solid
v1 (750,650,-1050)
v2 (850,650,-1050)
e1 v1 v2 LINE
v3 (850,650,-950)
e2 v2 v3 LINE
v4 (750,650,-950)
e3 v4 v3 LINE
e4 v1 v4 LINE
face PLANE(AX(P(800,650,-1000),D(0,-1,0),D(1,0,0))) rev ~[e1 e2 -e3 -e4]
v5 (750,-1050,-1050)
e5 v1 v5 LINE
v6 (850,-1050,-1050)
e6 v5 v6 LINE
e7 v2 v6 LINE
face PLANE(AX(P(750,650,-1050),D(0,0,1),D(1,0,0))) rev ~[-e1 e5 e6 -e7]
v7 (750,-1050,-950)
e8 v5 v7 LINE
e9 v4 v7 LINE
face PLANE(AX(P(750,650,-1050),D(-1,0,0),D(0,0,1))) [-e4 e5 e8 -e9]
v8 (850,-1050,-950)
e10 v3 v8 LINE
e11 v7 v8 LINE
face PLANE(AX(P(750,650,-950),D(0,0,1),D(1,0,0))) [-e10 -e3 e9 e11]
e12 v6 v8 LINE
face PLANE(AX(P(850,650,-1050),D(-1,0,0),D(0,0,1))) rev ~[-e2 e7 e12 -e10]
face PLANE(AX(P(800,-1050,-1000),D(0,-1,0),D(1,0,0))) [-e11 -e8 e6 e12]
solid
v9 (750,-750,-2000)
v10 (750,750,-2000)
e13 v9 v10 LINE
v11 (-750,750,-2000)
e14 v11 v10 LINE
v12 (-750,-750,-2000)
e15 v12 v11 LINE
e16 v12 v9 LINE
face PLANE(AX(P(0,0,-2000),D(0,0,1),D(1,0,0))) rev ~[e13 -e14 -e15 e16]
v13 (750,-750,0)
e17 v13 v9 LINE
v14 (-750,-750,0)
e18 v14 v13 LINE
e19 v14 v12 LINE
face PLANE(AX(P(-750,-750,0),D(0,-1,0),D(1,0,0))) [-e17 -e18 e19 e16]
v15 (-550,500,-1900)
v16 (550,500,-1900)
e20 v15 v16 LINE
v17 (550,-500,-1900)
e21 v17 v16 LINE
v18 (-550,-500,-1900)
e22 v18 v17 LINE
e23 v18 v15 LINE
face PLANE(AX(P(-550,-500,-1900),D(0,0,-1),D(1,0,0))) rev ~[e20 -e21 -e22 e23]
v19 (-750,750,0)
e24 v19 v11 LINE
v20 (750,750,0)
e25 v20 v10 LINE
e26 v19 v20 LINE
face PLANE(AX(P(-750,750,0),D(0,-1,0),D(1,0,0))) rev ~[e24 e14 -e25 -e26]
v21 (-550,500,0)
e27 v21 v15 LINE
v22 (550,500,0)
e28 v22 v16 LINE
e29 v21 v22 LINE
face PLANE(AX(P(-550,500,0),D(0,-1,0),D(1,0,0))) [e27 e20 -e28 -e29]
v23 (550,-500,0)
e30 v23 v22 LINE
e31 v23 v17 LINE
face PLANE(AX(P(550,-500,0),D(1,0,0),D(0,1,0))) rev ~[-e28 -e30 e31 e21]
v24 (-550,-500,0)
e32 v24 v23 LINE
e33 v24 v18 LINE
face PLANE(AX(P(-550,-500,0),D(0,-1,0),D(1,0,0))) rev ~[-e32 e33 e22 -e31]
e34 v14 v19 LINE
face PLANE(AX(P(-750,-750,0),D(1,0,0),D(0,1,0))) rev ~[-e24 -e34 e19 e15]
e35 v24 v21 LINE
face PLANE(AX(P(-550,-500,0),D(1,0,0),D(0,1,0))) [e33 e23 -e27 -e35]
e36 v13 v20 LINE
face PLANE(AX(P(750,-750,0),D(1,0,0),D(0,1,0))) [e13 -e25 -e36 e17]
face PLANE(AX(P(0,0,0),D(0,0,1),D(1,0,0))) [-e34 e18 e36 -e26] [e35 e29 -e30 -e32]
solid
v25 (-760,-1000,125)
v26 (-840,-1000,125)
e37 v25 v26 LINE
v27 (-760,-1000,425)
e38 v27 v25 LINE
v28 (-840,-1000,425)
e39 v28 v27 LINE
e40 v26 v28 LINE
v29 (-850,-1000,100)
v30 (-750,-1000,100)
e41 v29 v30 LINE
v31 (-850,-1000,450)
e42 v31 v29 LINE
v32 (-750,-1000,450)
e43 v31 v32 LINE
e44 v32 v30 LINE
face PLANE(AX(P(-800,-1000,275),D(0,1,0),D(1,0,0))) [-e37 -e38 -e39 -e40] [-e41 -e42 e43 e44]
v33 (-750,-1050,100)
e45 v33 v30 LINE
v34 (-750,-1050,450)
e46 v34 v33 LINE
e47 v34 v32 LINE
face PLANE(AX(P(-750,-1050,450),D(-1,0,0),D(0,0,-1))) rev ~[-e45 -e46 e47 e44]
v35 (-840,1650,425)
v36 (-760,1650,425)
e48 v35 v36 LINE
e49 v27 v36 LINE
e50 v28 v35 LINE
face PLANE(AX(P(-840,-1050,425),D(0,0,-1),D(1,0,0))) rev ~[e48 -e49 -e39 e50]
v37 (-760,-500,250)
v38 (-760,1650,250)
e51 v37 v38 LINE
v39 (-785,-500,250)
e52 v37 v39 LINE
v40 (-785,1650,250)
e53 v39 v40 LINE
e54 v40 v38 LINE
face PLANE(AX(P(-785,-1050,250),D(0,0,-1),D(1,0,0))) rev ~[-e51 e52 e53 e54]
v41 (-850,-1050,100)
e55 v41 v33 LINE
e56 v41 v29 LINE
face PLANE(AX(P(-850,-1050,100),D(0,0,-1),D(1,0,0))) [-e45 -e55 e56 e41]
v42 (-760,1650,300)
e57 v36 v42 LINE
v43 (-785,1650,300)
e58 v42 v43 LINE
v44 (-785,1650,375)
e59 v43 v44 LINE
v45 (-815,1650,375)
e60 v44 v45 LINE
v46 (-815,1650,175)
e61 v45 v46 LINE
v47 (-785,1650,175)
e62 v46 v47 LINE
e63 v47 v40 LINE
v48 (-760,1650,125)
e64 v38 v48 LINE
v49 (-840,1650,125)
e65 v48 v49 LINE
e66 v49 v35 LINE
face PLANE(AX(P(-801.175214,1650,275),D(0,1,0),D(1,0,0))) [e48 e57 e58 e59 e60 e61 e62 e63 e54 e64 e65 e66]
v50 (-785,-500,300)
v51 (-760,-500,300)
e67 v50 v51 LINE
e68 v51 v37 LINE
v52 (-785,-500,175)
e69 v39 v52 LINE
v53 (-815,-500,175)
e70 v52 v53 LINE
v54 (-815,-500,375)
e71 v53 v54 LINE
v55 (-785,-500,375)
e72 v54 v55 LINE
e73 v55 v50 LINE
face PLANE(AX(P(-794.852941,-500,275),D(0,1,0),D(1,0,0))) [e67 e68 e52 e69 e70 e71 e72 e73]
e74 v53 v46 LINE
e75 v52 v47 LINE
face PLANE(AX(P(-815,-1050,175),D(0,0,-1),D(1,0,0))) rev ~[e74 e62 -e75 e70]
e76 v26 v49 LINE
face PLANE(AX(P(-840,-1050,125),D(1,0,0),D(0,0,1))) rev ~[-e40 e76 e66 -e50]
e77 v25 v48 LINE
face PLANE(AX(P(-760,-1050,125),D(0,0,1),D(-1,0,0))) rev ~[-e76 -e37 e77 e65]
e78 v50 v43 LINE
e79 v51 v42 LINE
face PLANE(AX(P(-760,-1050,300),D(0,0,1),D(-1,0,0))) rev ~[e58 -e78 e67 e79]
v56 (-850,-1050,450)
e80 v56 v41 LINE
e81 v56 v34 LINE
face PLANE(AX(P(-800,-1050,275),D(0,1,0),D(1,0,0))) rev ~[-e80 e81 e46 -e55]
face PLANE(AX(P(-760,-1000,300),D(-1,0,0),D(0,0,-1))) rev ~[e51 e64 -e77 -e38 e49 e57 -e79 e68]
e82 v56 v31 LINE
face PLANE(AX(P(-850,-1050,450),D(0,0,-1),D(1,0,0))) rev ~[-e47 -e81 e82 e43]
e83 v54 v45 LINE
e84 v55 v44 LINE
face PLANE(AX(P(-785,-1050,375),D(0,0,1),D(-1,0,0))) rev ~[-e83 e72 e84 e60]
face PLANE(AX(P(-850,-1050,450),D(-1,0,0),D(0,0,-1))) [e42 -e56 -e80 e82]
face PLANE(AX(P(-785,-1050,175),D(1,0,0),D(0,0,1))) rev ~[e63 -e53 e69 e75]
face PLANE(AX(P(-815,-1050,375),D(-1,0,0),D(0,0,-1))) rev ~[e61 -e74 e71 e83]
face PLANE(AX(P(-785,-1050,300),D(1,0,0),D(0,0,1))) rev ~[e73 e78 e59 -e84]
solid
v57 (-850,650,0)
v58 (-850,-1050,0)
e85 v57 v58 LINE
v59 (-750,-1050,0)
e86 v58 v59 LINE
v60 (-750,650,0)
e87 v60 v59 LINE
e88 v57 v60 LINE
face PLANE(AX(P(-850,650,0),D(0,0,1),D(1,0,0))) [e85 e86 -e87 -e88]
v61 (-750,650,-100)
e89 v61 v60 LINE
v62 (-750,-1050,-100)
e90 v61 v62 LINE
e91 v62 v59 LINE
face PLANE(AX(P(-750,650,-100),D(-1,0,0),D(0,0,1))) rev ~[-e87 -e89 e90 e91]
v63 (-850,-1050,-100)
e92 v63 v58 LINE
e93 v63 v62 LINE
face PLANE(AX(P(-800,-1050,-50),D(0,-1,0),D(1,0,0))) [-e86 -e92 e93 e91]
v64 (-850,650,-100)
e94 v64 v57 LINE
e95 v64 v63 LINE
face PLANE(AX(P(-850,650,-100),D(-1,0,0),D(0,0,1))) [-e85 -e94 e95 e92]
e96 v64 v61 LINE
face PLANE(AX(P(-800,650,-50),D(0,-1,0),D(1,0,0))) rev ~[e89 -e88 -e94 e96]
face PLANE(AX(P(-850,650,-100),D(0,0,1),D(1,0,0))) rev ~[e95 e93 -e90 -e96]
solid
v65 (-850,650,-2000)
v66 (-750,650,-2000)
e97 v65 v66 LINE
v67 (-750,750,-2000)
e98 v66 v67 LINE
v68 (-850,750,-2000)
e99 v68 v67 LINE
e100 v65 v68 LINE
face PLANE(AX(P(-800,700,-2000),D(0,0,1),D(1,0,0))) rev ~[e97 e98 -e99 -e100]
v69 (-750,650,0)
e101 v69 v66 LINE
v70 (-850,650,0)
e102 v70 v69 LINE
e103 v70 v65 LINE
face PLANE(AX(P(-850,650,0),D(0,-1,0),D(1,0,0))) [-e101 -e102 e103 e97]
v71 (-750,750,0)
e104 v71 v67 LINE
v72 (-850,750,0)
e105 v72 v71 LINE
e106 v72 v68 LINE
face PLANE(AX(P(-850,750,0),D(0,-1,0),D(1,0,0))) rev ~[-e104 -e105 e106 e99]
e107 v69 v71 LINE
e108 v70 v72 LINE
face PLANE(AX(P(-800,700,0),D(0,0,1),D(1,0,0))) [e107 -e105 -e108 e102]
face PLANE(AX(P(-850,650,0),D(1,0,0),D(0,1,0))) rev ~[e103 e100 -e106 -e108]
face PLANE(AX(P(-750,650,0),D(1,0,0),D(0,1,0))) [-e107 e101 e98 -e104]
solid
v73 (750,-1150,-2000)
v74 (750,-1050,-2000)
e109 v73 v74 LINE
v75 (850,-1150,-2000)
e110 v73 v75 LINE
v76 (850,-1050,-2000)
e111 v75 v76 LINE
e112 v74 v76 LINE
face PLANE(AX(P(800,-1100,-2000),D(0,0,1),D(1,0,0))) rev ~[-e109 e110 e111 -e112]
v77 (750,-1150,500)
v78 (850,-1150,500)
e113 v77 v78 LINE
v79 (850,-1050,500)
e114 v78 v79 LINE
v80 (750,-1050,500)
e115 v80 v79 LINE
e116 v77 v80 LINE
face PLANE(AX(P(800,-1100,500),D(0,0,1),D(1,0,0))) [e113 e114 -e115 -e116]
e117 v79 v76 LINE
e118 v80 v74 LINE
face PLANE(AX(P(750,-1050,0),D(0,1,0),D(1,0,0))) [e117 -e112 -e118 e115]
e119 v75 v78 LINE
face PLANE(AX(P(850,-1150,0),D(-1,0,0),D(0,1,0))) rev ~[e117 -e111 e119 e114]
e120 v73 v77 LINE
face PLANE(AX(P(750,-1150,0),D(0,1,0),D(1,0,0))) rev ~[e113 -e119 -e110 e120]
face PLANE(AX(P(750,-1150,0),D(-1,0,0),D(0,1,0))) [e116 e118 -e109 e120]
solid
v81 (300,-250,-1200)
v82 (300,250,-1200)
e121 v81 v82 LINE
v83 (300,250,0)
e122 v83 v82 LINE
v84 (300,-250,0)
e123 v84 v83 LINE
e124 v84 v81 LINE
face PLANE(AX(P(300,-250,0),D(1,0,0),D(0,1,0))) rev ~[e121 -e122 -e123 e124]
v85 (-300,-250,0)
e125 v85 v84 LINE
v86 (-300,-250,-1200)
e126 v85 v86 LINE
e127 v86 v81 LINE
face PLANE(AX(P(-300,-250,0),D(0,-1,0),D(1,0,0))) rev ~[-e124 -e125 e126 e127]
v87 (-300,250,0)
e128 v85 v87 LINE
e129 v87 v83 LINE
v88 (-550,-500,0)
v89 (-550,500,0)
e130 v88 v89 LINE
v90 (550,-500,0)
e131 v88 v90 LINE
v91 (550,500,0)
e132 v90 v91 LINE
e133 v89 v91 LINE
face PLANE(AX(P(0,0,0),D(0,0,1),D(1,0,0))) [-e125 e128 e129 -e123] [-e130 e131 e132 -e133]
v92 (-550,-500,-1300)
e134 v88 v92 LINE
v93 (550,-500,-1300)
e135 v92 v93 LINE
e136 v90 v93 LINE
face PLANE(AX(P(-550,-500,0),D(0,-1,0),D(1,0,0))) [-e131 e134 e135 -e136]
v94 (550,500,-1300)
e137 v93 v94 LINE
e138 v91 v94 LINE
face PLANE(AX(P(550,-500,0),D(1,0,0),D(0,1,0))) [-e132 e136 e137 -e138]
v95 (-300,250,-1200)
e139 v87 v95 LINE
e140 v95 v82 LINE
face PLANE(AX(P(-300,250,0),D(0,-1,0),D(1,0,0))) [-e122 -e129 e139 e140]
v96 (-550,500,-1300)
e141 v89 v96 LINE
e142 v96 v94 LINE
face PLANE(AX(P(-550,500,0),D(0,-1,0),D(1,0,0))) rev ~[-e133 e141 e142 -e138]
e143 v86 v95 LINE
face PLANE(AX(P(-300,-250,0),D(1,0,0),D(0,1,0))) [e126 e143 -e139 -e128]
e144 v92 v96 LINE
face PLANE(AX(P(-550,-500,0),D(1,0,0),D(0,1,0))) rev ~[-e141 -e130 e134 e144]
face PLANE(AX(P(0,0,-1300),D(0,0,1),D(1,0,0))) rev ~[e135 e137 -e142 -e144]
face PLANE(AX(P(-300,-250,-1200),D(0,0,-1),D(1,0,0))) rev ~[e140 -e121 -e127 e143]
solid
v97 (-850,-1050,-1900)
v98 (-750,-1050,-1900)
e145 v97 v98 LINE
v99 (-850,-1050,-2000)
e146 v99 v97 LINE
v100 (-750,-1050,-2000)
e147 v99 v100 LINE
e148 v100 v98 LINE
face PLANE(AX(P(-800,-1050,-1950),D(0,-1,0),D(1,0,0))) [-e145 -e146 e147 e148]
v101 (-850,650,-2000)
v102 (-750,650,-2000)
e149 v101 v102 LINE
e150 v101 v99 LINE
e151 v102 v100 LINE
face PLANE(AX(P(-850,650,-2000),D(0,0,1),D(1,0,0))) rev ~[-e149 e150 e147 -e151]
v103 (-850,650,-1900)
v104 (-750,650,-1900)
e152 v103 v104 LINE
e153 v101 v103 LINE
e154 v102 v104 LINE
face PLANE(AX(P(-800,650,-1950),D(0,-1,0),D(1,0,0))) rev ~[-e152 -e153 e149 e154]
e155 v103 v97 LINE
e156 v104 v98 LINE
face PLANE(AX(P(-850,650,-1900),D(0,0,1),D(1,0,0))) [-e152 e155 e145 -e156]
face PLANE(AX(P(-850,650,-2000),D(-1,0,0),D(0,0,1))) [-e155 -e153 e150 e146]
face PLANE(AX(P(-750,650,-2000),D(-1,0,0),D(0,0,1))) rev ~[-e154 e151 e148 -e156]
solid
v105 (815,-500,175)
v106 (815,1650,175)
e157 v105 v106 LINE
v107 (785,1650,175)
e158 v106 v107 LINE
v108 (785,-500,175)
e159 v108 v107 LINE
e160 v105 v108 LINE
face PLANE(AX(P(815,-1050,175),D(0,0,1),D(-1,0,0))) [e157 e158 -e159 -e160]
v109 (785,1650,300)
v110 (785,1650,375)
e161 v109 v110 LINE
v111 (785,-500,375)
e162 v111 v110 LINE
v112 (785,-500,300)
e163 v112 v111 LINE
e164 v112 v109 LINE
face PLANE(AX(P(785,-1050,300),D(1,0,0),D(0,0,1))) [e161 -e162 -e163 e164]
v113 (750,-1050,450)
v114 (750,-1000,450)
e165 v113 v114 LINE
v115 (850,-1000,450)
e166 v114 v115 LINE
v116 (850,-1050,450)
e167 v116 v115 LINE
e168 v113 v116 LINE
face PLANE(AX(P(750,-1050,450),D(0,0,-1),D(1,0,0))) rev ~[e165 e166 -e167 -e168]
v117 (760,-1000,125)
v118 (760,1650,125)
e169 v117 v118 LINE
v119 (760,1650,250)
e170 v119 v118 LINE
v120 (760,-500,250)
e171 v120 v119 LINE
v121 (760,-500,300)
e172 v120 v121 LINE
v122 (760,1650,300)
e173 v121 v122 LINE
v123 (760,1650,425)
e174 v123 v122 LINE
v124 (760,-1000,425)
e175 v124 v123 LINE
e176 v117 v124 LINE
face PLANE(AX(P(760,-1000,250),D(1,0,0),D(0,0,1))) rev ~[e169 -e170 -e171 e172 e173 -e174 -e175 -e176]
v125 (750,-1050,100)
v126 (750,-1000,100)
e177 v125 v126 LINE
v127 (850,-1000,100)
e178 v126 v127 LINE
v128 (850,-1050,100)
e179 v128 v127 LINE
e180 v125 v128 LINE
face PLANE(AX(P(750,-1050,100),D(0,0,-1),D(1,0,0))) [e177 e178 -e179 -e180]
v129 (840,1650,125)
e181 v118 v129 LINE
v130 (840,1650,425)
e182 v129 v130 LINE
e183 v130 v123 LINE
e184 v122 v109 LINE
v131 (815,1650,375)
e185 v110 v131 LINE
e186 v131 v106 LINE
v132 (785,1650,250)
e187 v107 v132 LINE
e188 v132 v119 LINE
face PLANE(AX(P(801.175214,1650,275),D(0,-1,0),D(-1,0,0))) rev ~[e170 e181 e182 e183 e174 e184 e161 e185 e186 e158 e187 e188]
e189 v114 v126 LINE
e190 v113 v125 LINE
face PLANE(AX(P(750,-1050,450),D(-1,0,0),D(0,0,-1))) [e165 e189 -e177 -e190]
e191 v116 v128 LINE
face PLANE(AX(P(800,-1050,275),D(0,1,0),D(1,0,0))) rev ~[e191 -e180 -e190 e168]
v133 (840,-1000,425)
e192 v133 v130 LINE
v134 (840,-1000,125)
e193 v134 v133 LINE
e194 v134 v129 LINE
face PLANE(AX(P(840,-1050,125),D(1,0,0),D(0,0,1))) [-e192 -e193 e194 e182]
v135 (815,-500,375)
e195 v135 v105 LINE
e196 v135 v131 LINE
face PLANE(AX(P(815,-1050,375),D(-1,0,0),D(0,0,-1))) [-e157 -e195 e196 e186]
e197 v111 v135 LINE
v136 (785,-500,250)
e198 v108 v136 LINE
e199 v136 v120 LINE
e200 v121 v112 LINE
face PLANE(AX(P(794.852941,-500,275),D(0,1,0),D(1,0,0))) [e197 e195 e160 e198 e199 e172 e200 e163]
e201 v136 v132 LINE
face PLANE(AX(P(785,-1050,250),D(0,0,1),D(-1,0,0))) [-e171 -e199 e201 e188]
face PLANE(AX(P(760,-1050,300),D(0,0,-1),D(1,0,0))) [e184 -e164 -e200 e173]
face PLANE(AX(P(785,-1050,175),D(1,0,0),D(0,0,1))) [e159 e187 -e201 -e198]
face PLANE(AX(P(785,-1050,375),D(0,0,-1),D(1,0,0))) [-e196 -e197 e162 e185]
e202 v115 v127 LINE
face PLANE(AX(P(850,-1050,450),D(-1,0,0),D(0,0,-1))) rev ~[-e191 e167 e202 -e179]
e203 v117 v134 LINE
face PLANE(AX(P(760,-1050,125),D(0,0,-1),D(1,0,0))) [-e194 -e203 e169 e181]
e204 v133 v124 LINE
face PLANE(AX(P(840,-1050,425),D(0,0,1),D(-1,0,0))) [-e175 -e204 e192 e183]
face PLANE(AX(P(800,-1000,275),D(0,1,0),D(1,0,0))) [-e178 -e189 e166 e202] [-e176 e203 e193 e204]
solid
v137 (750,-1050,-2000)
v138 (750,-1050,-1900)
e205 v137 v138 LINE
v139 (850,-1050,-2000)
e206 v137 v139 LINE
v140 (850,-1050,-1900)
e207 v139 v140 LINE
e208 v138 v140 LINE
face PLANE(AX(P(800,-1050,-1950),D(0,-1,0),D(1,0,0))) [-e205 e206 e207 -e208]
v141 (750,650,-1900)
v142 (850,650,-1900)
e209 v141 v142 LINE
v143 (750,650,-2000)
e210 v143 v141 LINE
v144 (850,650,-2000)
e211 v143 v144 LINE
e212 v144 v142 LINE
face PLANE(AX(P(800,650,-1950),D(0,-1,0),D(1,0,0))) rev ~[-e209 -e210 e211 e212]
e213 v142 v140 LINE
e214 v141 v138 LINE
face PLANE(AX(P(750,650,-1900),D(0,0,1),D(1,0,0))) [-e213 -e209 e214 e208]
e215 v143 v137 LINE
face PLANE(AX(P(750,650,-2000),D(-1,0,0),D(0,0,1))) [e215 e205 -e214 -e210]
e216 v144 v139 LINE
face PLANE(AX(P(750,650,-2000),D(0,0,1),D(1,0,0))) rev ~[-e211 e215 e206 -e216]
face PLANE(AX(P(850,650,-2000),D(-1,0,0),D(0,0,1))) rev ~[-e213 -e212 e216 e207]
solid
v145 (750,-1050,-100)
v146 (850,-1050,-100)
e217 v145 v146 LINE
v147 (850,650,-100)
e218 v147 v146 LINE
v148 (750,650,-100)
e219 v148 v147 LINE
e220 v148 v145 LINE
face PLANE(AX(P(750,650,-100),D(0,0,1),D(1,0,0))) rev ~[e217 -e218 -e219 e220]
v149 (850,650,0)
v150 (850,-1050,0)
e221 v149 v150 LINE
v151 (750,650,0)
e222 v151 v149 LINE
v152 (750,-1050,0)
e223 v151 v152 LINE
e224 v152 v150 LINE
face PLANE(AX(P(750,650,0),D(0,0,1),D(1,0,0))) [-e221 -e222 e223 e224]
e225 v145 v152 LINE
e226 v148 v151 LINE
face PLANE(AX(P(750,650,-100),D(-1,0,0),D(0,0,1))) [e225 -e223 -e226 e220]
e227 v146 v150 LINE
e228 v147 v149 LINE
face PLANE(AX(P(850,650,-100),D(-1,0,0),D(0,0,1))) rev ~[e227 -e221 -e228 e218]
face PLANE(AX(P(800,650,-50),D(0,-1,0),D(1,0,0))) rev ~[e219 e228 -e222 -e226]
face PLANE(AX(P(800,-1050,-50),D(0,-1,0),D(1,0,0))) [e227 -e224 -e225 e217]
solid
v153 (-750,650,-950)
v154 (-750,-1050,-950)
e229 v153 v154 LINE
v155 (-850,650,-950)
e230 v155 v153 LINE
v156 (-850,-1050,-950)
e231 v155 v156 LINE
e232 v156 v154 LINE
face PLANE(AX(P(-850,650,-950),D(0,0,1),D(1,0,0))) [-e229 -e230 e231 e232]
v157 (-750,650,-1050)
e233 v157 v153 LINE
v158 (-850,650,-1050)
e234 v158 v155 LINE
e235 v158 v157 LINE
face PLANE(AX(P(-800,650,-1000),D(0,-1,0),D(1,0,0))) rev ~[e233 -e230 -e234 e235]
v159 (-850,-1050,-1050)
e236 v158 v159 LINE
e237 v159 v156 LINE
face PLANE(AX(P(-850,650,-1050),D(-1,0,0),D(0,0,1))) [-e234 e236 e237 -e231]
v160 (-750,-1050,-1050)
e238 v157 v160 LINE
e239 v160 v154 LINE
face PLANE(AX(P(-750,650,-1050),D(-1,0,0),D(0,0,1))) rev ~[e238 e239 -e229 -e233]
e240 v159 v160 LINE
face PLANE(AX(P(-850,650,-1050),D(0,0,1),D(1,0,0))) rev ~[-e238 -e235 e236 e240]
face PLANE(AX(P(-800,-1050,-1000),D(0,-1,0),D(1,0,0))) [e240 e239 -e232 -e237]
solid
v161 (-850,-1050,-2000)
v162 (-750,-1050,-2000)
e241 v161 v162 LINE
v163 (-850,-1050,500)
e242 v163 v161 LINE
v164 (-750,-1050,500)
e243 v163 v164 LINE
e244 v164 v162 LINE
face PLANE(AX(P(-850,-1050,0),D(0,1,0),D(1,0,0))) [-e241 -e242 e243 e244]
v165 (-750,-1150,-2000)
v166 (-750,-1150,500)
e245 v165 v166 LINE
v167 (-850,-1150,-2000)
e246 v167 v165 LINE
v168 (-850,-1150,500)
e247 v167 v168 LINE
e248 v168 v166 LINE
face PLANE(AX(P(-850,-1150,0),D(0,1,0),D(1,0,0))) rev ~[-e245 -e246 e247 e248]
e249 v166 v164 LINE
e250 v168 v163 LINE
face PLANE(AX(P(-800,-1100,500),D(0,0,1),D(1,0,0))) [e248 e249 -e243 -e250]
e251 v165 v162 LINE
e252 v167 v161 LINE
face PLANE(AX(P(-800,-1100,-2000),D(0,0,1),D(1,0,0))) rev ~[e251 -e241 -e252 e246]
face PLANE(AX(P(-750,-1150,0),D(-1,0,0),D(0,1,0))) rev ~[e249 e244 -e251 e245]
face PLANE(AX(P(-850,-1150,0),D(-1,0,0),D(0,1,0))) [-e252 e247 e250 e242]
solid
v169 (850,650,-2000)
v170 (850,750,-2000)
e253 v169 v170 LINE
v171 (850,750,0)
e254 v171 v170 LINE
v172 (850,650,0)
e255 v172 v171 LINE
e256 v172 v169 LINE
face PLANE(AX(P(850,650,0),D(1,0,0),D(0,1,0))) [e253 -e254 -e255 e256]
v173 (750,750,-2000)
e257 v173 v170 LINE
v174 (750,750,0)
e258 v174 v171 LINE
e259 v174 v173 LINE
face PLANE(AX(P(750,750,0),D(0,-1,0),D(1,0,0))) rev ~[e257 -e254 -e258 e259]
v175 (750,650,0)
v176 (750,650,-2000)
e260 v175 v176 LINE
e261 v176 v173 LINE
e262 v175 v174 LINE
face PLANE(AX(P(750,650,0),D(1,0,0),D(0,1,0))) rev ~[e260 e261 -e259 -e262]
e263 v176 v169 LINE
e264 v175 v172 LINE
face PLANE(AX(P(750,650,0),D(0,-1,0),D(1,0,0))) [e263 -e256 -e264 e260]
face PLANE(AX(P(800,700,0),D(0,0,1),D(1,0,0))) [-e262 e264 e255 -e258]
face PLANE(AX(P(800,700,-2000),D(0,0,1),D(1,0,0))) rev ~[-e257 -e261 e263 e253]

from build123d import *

# Parameters (mm, degrees)
SKETCH_1_W         = 1100
SKETCH_1_H         = 1000
SKETCH_1_W_2       = 600
SKETCH_1_H_2       = 500
EXTRUDE_1_DEPTH    = 1300
SKETCH_2_W         = 600
SKETCH_2_H         = 100
EXTRUDE_2_DEPTH    = 500
SKETCH_3_W         = 1500
SKETCH_3_H         = 1500
SKETCH_3_W_2       = 1100
SKETCH_3_H_2       = 1000
EXTRUDE_3_DEPTH    = 2000
SKETCH_4_W         = 1100
SKETCH_4_H         = 100
EXTRUDE_4_DEPTH    = 1000
SKETCH_7_W         = 100
SKETCH_7_H         = 100
EXTRUDE_7_DEPTH    = 2000
EXTRUDE_7_2_DEPTH  = 2000
EXTRUDE_7_3_DEPTH  = 2000
EXTRUDE_7_4_DEPTH  = 2000
SKETCH_7_2_W       = 100
SKETCH_7_2_H       = 100
EXTRUDE_8_DEPTH    = 500
SKETCH_8_W         = 100
SKETCH_8_H         = 100
EXTRUDE_9_DEPTH    = 1700
EXTRUDE_9_2_DEPTH  = 1700
EXTRUDE_9_3_DEPTH  = 1700
EXTRUDE_9_4_DEPTH  = 1700
EXTRUDE_9_5_DEPTH  = 1700
EXTRUDE_9_6_DEPTH  = 1700
SKETCH_9_W         = 100
SKETCH_9_H         = 350
EXTRUDE_10_DEPTH   = 50
EXTRUDE_10_2_DEPTH = 50
EXTRUDE_11_DEPTH   = 2700
EXTRUDE_12_DEPTH   = 500


with BuildPart() as part:
    # Эскиз1 → Бобышка-Вытянуть1 (new body)
    with BuildSketch(Plane.XY):
        Rectangle(SKETCH_1_W, SKETCH_1_H)
        Rectangle(SKETCH_1_W_2, SKETCH_1_H_2, mode=Mode.SUBTRACT)
    extrude(amount=-EXTRUDE_1_DEPTH)

    # Эскиз2 → Бобышка-Вытянуть2 (add)
    with BuildSketch(Plane(origin=(0, -250, 0), x_dir=(1, 0, 0), z_dir=(0, 1, 0))):
        with Locations((0, 1250)):
            Rectangle(SKETCH_2_W, SKETCH_2_H)
    extrude(amount=EXTRUDE_2_DEPTH)


with BuildPart() as body_2:
    # Эскиз3 → Бобышка-Вытянуть3 (new body)
    with BuildSketch(Plane.XY):
        Rectangle(SKETCH_3_W, SKETCH_3_H)
        Rectangle(SKETCH_3_W_2, SKETCH_3_H_2, mode=Mode.SUBTRACT)
    extrude(amount=-EXTRUDE_3_DEPTH)

    # Эскиз4 → Бобышка-Вытянуть4 (add)
    with BuildSketch(Plane(origin=(0, -500, 0), x_dir=(1, 0, 0), z_dir=(0, 1, 0))):
        with Locations((0, 1950)):
            Rectangle(SKETCH_4_W, SKETCH_4_H)
    extrude(amount=EXTRUDE_4_DEPTH)


with BuildPart() as body_3:
    # Эскиз7 → Бобышка-Вытянуть7 (new body)
    with BuildSketch(Plane.XY):
        with Locations((-800, 700)):
            Rectangle(SKETCH_7_W, SKETCH_7_H)
    extrude(amount=-EXTRUDE_7_DEPTH)


with BuildPart() as body_4:
    # Эскиз7 → Extrude 7 2 (new body)
    with BuildSketch(Plane.XY):
        with Locations((-800, -1100)):
            Rectangle(SKETCH_7_W, SKETCH_7_H)
    extrude(amount=-EXTRUDE_7_2_DEPTH)



with BuildPart() as body_5:
    # Эскиз7 → Extrude 7 3 (new body)
    with BuildSketch(Plane.XY):
        with Locations((800, -1100)):
            Rectangle(SKETCH_7_W, SKETCH_7_H)
    extrude(amount=-EXTRUDE_7_3_DEPTH)


with BuildPart() as body_6:
    # Эскиз7 → Extrude 7 4 (new body)
    with BuildSketch(Plane.XY):
        with Locations((800, 700)):
            Rectangle(SKETCH_7_W, SKETCH_7_H)
    extrude(amount=-EXTRUDE_7_4_DEPTH)


with BuildPart() as body_4_1:
    add(body_4.part)

    add(body_5.part)  # Бобышка-Вытянуть8 merges body 5
    # Эскиз7<2> → Бобышка-Вытянуть8 (add)
    with BuildSketch(Plane.XY):
        with Locations((-800, -1100)):
            Rectangle(SKETCH_7_2_W, SKETCH_7_2_H)
        with Locations((800, -1100)):
            Rectangle(SKETCH_7_2_W, SKETCH_7_2_H)
    extrude(amount=EXTRUDE_8_DEPTH)


with BuildPart() as body_6_2:
    # Эскиз8 → Бобышка-Вытянуть9 (new body)
    with BuildSketch(Plane.XZ.offset(-650)):
        with Locations((800, -50)):
            Rectangle(SKETCH_8_W, SKETCH_8_H)
    extrude(amount=EXTRUDE_9_DEPTH)


with BuildPart() as body_7:
    # Эскиз8 → Extrude 9 2 (new body)
    with BuildSketch(Plane.XZ.offset(-650)):
        with Locations((800, -1950)):
            Rectangle(SKETCH_8_W, SKETCH_8_H)
    extrude(amount=EXTRUDE_9_2_DEPTH)


with BuildPart() as body_8:
    # Эскиз8 → Extrude 9 3 (new body)
    with BuildSketch(Plane.XZ.offset(-650)):
        with Locations((800, -1000)):
            Rectangle(SKETCH_8_W, SKETCH_8_H)
    extrude(amount=EXTRUDE_9_3_DEPTH)


with BuildPart() as body_9:
    # Эскиз8 → Extrude 9 4 (new body)
    with BuildSketch(Plane.XZ.offset(-650)):
        with Locations((-800, -1000)):
            Rectangle(SKETCH_8_W, SKETCH_8_H)
    extrude(amount=EXTRUDE_9_4_DEPTH)


with BuildPart() as body_10:
    # Эскиз8 → Extrude 9 5 (new body)
    with BuildSketch(Plane.XZ.offset(-650)):
        with Locations((-800, -1950)):
            Rectangle(SKETCH_8_W, SKETCH_8_H)
    extrude(amount=EXTRUDE_9_5_DEPTH)


with BuildPart() as body_11:
    # Эскиз8 → Extrude 9 6 (new body)
    with BuildSketch(Plane.XZ.offset(-650)):
        with Locations((-800, -50)):
            Rectangle(SKETCH_8_W, SKETCH_8_H)
    extrude(amount=EXTRUDE_9_6_DEPTH)


with BuildPart() as body_12:
    # Эскиз9 → Бобышка-Вытянуть10 (new body)
    with BuildSketch(Plane(origin=(0, -1050, 0), x_dir=(1, 0, 0), z_dir=(0, 1, 0))):
        with Locations((800, -275)):
            Rectangle(SKETCH_9_W, SKETCH_9_H)
        Polygon((760, -125), (840, -125), (840, -425), (760, -425), (760, -300), (785, -300), (785, -375), (815, -375), (815, -175), (785, -175), (785, -250), (760, -250), align=None, mode=Mode.SUBTRACT)
    extrude(amount=EXTRUDE_10_DEPTH)


with BuildPart() as body_13:
    # Эскиз9 → Extrude 10 2 (new body)
    with BuildSketch(Plane(origin=(0, -1050, 0), x_dir=(1, 0, 0), z_dir=(0, 1, 0))):
        with Locations((-800, -275)):
            Rectangle(SKETCH_9_W, SKETCH_9_H)
        Polygon((-760, -250), (-760, -125), (-840, -125), (-840, -425), (-760, -425), (-760, -300), (-785, -300), (-785, -375), (-815, -375), (-815, -175), (-785, -175), (-785, -250), align=None, mode=Mode.SUBTRACT)
    extrude(amount=EXTRUDE_10_2_DEPTH)


    add(body_12.part)  # Бобышка-Вытянуть11 merges body 12
    # Эскиз9<2> → Бобышка-Вытянуть11 (add)
    with BuildSketch(Plane(origin=(0, -1050, 0), x_dir=(1, 0, 0), z_dir=(0, 1, 0))):
        Polygon((760, -250), (760, -125), (840, -125), (840, -425), (760, -425), (760, -300), (785, -300), (785, -375), (815, -375), (815, -175), (785, -175), (785, -250), align=None)
        Polygon((-760, -250), (-760, -125), (-840, -125), (-840, -425), (-760, -425), (-760, -300), (-785, -300), (-785, -375), (-815, -375), (-815, -175), (-785, -175), (-785, -250), align=None)
    extrude(amount=EXTRUDE_11_DEPTH)

    # Эскиз10 → Бобышка-Вытянуть12 (add)
    with BuildSketch(Plane(origin=(0, -1000, 0), x_dir=(1, 0, 0), z_dir=(0, 1, 0))):
        Polygon((815, -375), (815, -175), (785, -175), (785, -250), (760, -250), (760, -300), (785, -300), (785, -375), align=None)
        Polygon((-760, -250), (-785, -250), (-785, -175), (-815, -175), (-815, -375), (-785, -375), (-785, -300), (-760, -300), align=None)
    extrude(amount=EXTRUDE_12_DEPTH)


solid = Compound([part.part, body_2.part, body_3.part, body_6.part, body_4_1.part, body_6_2.part, body_7.part, body_8.part, body_9.part, body_10.part, body_11.part, body_13.part])
